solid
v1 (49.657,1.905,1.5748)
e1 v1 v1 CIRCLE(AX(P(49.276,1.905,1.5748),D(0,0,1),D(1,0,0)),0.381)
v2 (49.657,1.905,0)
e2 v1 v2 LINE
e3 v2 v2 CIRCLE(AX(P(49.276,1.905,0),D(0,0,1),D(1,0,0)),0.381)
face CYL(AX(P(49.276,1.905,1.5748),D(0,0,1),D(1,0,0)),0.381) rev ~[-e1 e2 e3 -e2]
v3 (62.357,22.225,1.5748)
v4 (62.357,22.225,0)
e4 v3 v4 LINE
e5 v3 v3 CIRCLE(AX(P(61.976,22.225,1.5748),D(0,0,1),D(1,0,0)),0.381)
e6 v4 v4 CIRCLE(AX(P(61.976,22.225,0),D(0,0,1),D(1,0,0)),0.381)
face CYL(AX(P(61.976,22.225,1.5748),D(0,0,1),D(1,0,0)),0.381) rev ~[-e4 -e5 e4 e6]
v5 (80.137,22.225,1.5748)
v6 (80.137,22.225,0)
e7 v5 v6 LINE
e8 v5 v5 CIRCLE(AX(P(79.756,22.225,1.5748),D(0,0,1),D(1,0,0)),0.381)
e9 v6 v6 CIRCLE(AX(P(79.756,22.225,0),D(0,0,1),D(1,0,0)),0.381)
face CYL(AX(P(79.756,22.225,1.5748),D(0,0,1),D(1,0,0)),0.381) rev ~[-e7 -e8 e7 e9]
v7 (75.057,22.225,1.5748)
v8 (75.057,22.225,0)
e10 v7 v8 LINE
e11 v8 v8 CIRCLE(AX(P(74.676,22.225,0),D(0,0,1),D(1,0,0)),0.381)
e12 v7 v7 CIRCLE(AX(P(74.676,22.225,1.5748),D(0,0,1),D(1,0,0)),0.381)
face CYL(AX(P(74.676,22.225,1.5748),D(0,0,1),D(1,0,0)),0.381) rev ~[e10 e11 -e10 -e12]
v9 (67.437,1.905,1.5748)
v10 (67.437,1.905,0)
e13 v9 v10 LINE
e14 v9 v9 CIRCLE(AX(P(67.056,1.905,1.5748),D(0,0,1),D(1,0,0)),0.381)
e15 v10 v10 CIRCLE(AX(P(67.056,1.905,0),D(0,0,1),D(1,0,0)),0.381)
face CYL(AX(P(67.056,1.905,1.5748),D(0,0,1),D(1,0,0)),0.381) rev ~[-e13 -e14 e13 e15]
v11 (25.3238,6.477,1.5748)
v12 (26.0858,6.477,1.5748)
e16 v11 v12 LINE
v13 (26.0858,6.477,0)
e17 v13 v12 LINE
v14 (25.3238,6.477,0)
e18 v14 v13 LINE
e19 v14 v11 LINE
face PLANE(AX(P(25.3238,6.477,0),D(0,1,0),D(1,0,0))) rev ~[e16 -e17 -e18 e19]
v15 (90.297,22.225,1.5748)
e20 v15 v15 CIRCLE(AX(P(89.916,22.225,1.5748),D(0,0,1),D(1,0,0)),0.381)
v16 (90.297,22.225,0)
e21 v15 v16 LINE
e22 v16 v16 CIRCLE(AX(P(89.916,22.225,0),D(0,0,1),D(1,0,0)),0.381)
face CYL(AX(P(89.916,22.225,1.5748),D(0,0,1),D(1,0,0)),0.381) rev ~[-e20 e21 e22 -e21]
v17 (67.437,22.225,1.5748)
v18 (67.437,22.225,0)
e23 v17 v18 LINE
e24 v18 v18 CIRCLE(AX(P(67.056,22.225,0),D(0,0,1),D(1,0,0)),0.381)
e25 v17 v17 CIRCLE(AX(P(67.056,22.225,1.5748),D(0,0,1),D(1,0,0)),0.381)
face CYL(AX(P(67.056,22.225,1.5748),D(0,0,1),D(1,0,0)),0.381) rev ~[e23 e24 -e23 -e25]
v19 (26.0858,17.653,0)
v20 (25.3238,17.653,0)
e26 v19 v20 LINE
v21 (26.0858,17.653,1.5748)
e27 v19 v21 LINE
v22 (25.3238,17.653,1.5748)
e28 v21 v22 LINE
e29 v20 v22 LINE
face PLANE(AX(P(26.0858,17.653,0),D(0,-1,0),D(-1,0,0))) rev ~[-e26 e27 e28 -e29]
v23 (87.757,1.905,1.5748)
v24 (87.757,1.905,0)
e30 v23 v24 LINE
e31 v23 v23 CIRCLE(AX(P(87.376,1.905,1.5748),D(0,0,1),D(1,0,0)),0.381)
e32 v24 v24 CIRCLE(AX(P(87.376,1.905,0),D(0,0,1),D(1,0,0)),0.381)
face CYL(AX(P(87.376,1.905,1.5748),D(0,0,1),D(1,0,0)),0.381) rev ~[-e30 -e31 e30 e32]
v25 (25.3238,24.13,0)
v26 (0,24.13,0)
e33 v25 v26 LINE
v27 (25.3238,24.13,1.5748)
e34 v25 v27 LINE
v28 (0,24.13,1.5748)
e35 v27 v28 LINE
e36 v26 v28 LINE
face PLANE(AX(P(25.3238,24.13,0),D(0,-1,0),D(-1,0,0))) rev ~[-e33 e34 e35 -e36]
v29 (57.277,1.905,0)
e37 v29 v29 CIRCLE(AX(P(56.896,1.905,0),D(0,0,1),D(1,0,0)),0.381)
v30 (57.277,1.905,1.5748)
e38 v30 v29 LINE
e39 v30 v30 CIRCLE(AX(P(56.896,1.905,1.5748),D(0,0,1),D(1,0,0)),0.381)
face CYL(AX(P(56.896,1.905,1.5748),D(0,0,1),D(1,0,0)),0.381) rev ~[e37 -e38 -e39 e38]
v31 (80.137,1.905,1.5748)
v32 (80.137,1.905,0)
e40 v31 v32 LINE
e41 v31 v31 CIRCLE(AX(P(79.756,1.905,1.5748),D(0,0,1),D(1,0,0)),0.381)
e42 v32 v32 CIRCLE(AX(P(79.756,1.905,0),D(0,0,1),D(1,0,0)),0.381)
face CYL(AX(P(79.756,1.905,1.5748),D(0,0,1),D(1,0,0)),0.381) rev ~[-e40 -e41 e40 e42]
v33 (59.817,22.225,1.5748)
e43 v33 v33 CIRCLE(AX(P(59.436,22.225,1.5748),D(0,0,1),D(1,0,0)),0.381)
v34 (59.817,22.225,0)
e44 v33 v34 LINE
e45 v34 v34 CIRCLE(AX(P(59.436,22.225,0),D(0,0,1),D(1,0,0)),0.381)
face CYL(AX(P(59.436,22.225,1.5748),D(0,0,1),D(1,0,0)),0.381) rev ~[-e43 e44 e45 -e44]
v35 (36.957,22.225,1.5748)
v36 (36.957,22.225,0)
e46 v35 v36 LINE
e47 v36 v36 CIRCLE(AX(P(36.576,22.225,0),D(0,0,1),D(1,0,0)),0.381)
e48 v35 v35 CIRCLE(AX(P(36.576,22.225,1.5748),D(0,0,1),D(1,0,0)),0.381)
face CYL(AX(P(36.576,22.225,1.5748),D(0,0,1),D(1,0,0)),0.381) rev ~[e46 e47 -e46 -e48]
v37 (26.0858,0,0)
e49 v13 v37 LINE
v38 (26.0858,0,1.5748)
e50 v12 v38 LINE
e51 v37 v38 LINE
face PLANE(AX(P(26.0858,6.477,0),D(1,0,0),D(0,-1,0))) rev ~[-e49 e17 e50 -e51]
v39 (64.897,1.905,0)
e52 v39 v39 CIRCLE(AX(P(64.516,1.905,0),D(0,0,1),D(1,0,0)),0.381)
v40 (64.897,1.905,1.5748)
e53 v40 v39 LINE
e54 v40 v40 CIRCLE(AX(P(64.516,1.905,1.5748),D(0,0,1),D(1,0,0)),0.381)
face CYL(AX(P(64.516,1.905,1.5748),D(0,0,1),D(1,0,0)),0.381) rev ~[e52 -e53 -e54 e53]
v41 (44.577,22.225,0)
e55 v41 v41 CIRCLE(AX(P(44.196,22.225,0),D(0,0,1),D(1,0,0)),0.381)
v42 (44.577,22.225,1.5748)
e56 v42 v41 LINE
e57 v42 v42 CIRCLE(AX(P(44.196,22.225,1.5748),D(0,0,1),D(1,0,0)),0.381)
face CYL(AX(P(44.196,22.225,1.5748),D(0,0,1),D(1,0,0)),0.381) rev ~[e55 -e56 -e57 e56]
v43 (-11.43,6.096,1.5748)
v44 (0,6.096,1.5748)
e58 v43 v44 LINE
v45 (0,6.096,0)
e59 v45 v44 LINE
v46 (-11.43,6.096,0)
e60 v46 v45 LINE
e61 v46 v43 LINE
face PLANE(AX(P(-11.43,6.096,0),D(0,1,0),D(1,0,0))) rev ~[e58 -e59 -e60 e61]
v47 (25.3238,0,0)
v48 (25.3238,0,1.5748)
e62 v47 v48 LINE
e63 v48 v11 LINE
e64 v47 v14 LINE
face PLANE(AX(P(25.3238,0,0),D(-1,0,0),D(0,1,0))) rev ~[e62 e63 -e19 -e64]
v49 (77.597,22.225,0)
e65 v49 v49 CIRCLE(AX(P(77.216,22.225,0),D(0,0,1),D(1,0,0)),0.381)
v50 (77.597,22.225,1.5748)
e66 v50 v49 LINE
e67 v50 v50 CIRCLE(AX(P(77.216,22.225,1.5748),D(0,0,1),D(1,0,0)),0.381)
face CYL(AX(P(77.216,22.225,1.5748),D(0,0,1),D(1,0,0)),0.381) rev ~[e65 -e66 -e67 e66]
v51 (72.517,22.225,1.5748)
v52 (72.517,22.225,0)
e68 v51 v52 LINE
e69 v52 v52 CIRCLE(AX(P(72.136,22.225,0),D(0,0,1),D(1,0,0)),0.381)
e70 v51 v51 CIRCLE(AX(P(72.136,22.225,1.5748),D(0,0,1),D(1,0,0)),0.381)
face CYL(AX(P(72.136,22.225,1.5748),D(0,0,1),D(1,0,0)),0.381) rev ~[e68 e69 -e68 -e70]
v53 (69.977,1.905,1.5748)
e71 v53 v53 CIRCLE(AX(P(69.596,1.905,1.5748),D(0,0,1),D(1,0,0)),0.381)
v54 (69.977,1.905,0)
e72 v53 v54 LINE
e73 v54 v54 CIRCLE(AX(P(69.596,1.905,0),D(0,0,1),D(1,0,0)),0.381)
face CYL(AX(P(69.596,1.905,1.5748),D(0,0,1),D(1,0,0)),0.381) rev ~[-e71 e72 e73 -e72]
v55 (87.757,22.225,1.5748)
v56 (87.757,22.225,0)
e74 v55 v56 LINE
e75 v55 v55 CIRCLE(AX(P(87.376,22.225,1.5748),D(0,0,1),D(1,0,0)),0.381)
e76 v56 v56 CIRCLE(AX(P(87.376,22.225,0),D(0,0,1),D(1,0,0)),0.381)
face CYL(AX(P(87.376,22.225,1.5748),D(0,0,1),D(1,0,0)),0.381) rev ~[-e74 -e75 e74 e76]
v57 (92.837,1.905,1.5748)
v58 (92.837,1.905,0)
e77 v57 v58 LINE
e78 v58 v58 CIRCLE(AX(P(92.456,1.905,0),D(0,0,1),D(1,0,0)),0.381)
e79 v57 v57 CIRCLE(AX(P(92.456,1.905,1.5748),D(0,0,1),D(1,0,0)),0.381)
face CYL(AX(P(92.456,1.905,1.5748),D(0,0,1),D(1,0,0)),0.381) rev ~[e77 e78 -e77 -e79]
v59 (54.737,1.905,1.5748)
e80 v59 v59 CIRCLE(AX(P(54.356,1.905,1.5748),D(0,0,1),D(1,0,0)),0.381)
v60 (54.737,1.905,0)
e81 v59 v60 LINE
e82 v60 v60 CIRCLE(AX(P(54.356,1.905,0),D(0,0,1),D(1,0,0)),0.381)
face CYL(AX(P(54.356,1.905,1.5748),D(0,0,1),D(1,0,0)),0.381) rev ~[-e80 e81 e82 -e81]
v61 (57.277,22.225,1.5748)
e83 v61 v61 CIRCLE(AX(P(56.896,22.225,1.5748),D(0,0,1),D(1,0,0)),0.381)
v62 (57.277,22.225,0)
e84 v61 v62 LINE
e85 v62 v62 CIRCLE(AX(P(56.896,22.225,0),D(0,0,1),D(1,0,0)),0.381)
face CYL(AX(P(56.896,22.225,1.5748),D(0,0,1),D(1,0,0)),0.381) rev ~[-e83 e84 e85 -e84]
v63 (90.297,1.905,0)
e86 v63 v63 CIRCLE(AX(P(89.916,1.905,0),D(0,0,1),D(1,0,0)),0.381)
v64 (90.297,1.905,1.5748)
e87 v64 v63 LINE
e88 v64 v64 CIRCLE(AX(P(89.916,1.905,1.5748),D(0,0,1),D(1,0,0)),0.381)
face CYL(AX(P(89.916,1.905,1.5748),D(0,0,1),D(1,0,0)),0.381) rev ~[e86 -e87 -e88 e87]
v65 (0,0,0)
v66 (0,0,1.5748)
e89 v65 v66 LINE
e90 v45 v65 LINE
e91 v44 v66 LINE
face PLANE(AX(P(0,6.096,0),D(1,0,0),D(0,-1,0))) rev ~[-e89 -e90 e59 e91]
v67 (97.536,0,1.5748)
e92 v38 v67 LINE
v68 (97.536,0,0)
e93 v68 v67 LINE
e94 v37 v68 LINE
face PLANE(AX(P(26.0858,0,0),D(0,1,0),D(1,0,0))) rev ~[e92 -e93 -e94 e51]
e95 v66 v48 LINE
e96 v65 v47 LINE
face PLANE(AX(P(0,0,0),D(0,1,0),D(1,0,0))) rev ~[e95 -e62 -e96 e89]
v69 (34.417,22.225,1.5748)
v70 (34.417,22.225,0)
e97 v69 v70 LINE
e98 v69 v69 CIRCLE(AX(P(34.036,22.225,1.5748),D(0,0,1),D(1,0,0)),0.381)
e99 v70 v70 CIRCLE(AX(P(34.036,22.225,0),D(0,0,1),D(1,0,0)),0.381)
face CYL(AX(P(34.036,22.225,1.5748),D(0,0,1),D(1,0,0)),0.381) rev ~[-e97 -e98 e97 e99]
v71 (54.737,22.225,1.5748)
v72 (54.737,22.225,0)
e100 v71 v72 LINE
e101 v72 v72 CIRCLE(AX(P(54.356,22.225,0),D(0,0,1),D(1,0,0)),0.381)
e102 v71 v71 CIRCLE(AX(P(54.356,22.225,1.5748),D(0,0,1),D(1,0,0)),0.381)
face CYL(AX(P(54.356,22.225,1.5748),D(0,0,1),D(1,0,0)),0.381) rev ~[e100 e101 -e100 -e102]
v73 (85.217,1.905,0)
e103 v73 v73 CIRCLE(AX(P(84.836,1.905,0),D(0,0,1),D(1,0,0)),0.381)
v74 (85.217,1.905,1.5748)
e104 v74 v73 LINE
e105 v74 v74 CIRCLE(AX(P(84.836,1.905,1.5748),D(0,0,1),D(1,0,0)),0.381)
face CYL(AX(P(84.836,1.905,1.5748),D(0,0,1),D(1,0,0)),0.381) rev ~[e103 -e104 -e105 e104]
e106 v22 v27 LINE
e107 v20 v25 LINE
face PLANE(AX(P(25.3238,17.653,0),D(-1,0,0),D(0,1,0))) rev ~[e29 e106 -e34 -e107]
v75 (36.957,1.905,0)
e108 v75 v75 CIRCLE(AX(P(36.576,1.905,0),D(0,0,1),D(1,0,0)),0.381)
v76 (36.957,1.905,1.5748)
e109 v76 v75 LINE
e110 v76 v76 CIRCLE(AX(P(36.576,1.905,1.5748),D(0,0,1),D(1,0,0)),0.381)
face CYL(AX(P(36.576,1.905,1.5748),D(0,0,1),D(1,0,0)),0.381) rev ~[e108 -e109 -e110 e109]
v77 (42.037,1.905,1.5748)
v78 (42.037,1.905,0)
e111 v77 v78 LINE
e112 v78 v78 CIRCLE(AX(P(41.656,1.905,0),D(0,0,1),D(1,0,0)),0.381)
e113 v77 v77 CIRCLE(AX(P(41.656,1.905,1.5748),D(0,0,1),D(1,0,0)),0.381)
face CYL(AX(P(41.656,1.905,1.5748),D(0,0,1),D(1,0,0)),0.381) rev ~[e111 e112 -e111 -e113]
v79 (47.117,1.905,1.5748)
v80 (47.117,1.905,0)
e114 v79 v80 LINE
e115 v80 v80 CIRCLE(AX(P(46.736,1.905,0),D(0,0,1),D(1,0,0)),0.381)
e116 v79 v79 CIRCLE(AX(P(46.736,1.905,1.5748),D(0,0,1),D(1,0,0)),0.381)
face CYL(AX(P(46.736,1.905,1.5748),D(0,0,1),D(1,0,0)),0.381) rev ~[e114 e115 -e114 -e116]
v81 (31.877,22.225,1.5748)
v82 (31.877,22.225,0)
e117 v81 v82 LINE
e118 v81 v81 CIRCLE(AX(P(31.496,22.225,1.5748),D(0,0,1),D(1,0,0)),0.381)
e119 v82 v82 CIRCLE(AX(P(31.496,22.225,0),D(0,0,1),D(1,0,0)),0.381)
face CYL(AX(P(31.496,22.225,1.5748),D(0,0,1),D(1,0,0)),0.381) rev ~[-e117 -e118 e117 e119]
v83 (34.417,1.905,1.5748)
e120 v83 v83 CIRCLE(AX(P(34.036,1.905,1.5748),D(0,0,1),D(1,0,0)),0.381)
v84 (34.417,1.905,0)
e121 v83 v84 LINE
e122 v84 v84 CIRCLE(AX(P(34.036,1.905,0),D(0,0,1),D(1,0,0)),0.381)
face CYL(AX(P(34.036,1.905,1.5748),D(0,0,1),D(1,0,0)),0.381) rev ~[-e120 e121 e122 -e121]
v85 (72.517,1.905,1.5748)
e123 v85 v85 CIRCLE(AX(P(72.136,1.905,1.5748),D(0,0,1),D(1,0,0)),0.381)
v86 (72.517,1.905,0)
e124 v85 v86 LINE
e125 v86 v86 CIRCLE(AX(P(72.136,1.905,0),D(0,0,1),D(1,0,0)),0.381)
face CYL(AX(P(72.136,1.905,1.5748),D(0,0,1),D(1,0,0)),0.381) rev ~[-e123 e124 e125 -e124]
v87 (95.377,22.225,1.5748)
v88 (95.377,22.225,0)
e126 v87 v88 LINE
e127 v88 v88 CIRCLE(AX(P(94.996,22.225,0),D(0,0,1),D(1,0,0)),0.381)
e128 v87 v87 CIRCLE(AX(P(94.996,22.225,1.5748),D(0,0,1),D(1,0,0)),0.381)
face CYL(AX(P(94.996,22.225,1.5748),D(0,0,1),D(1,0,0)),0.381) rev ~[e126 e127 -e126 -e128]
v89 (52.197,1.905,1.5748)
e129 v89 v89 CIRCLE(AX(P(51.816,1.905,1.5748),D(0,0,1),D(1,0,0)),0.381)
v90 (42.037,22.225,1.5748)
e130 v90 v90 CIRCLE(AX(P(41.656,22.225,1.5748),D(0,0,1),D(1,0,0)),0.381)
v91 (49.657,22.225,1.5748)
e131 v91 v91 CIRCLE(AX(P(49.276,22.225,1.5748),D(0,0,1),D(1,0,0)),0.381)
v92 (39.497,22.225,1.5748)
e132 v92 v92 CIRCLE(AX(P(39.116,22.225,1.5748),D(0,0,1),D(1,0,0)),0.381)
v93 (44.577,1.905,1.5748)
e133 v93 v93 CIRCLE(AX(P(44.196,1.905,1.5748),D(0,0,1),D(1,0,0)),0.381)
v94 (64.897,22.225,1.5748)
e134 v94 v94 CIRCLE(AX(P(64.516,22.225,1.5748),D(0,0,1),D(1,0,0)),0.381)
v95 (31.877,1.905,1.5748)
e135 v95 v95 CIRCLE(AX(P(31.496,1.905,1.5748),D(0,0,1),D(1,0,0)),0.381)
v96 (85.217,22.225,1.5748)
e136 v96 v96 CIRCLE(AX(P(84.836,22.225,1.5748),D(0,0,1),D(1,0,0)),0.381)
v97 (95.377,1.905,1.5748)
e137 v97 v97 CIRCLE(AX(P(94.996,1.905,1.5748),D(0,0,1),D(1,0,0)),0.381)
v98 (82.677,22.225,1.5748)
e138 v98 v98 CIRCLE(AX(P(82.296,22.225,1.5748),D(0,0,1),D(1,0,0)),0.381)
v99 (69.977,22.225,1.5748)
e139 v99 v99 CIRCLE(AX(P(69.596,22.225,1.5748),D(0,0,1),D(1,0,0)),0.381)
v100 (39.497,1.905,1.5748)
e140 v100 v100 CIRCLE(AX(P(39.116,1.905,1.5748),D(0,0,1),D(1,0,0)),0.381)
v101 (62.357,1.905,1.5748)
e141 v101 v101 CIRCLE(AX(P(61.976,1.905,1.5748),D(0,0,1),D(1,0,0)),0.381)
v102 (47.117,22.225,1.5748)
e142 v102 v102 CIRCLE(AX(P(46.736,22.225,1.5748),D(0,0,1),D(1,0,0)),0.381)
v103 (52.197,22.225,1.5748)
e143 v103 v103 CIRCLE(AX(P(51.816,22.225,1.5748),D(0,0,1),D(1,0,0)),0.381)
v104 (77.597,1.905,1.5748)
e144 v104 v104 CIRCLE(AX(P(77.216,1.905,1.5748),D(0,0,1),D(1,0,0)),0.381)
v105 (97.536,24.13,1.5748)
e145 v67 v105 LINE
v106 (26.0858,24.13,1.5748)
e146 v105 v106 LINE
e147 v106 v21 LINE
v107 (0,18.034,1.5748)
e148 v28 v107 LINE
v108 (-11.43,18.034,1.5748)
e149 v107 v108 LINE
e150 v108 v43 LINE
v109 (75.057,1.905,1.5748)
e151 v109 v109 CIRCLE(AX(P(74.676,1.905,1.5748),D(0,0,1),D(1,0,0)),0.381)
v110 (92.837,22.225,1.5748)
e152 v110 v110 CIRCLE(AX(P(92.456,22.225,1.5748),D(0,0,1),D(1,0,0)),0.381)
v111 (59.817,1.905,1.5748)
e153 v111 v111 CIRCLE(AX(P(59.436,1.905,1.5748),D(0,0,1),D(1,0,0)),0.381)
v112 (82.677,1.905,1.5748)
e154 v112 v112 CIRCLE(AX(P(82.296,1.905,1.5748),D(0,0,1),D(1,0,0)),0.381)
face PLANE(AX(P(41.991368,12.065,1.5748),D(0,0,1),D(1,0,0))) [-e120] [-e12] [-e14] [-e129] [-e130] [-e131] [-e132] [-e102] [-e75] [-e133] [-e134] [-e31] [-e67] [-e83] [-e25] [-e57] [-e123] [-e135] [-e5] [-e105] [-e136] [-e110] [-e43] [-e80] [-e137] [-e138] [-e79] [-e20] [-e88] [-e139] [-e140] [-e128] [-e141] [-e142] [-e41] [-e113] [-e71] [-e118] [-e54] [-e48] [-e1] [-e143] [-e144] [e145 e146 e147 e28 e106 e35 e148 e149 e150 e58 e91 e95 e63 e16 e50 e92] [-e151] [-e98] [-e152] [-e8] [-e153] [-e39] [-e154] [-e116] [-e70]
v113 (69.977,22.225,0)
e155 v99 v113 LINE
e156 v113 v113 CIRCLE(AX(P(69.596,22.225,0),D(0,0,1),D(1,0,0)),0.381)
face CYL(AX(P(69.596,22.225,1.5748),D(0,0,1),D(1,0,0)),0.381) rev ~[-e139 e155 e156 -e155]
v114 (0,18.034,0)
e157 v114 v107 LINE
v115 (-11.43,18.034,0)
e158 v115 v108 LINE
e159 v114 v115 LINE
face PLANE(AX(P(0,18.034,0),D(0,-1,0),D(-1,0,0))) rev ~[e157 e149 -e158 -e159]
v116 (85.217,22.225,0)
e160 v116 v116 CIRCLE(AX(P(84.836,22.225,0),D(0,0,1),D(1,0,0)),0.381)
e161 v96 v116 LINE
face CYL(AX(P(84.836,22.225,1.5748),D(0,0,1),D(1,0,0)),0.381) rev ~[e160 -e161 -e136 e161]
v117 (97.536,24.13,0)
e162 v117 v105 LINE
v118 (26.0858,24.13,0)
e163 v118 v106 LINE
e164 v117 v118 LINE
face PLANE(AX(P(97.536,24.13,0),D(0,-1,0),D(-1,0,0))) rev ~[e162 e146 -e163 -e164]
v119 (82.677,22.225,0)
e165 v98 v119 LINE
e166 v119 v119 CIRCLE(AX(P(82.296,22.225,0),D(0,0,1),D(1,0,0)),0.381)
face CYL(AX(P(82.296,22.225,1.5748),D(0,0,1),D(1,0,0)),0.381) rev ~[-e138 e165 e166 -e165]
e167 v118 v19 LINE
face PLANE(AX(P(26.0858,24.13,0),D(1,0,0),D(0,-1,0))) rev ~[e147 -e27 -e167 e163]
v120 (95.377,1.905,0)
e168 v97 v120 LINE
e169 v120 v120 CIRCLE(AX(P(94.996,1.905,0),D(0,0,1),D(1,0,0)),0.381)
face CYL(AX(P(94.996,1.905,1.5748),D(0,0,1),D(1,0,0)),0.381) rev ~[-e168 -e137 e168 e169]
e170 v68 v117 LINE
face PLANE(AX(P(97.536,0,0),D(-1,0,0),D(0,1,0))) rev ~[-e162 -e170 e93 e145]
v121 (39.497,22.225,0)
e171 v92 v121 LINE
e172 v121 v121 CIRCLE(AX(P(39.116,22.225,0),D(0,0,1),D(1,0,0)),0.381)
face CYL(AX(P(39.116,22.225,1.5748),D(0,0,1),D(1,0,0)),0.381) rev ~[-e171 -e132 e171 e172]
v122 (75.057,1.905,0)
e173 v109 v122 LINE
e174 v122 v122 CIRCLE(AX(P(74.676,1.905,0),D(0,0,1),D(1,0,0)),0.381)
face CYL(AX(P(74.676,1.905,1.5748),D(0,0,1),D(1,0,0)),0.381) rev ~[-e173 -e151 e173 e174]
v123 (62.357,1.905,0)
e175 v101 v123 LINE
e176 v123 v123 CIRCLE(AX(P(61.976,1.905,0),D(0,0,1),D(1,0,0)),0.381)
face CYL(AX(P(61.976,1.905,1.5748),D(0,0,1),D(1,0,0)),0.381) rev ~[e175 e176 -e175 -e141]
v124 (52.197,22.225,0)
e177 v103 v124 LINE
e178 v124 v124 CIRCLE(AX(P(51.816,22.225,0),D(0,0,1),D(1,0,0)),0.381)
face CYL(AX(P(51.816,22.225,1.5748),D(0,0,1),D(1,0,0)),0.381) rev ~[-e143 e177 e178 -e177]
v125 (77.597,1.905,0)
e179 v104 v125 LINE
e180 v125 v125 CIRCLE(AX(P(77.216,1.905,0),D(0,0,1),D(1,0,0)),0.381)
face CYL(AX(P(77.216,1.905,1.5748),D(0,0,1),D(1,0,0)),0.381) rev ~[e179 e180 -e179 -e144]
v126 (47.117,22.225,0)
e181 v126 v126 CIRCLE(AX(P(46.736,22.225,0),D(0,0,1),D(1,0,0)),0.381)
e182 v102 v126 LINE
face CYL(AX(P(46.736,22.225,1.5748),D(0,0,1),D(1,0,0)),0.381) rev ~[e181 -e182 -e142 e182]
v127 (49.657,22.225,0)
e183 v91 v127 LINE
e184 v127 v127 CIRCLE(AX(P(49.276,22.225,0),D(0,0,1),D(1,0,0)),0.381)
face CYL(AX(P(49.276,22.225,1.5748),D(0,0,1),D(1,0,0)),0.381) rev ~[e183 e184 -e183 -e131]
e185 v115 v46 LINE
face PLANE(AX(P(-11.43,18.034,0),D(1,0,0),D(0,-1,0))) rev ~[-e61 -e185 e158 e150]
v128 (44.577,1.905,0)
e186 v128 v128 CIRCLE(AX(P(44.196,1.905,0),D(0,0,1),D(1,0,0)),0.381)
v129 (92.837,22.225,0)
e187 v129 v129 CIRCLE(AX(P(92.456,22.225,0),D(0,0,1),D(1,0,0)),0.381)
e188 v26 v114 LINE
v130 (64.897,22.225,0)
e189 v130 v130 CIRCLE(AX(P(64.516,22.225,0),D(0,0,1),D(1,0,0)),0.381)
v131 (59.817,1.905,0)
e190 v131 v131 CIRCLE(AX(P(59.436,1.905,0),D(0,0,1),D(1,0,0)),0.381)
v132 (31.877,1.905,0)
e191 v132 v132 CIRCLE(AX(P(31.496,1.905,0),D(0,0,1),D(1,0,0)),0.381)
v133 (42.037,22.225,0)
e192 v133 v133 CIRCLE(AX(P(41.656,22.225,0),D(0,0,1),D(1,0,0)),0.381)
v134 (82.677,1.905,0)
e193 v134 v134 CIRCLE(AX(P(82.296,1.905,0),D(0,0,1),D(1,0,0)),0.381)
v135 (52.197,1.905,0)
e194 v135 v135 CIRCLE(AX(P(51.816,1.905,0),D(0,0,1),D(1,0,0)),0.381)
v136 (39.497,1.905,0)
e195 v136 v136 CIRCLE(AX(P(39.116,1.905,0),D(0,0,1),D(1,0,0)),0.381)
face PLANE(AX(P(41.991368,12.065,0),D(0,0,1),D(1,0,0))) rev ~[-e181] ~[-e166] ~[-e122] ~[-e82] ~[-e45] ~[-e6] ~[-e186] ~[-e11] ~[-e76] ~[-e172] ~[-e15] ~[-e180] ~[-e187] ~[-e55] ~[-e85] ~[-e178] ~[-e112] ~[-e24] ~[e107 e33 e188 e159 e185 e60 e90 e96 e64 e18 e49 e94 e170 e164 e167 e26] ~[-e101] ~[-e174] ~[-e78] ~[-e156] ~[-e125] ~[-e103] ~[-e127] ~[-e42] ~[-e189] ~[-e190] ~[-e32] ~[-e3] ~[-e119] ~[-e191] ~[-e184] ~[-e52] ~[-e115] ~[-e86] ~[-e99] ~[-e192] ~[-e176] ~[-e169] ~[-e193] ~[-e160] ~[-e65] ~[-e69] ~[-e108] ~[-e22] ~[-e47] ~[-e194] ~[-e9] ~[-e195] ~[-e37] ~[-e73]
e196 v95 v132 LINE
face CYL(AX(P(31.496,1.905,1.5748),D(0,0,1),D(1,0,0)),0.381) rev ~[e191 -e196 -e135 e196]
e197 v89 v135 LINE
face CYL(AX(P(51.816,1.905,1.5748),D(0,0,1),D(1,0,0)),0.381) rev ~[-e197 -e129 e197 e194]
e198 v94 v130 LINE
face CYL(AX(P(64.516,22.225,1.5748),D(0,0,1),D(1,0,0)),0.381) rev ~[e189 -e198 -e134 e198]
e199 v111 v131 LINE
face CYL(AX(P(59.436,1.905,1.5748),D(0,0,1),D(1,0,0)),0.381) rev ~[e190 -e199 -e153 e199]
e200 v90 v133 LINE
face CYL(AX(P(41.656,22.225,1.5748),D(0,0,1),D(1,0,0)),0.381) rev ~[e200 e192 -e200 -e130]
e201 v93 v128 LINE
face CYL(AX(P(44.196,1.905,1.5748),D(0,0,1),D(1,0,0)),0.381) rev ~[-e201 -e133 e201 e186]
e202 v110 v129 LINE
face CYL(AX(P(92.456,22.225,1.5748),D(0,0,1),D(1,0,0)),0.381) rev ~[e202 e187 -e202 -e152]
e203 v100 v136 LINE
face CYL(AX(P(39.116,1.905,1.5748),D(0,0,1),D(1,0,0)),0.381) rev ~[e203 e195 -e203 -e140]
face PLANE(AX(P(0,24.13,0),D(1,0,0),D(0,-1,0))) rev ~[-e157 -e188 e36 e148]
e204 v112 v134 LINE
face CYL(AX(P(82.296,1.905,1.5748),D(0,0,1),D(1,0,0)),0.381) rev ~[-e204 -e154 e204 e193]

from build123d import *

# Parameters (mm, degrees)
F1_DEPTH = 1.5748
F2_R     = 0.381
F3_DEPTH = 1.5758


with BuildPart() as f1:
    # F0 (on Top) → F1 (new body)
    with BuildSketch(Plane.XY):
        Polygon((0, 6.096), (0, 0), (25.3238, 0), (25.3238, 6.477), (26.0858, 6.477), (26.0858, 0), (97.536, 0), (97.536, 24.13), (26.0858, 24.13), (26.0858, 17.653), (25.3238, 17.653), (25.3238, 24.13), (0, 24.13), (0, 18.034), (-11.43, 18.034), (-11.43, 6.096), align=None)
    extrude(amount=F1_DEPTH)

    # F2 (on face) → F3 (cut, through all)
    with BuildSketch(Plane.XY.offset(1.5748)):
        with Locations((31.496, 1.905)):
            Circle(F2_R)
        with Locations((31.496, 22.225)):
            Circle(F2_R)
        with Locations((34.036, 1.905)):
            Circle(F2_R)
        with Locations((34.036, 22.225)):
            Circle(F2_R)
        with Locations((36.576, 1.905)):
            Circle(F2_R)
        with Locations((36.576, 22.225)):
            Circle(F2_R)
        with Locations((39.116, 1.905)):
            Circle(F2_R)
        with Locations((39.116, 22.225)):
            Circle(F2_R)
        with Locations((41.656, 1.905)):
            Circle(F2_R)
        with Locations((41.656, 22.225)):
            Circle(F2_R)
        with Locations((44.196, 1.905)):
            Circle(F2_R)
        with Locations((44.196, 22.225)):
            Circle(F2_R)
        with Locations((46.736, 1.905)):
            Circle(F2_R)
        with Locations((46.736, 22.225)):
            Circle(F2_R)
        with Locations((49.276, 1.905)):
            Circle(F2_R)
        with Locations((49.276, 22.225)):
            Circle(F2_R)
        with Locations((51.816, 1.905)):
            Circle(F2_R)
        with Locations((51.816, 22.225)):
            Circle(F2_R)
        with Locations((54.356, 1.905)):
            Circle(F2_R)
        with Locations((54.356, 22.225)):
            Circle(F2_R)
        with Locations((56.896, 1.905)):
            Circle(F2_R)
        with Locations((56.896, 22.225)):
            Circle(F2_R)
        with Locations((59.436, 1.905)):
            Circle(F2_R)
        with Locations((59.436, 22.225)):
            Circle(F2_R)
        with Locations((61.976, 1.905)):
            Circle(F2_R)
        with Locations((61.976, 22.225)):
            Circle(F2_R)
        with Locations((64.516, 1.905)):
            Circle(F2_R)
        with Locations((64.516, 22.225)):
            Circle(F2_R)
        with Locations((67.056, 1.905)):
            Circle(F2_R)
        with Locations((67.056, 22.225)):
            Circle(F2_R)
        with Locations((69.596, 1.905)):
            Circle(F2_R)
        with Locations((69.596, 22.225)):
            Circle(F2_R)
        with Locations((72.136, 1.905)):
            Circle(F2_R)
        with Locations((72.136, 22.225)):
            Circle(F2_R)
        with Locations((74.676, 1.905)):
            Circle(F2_R)
        with Locations((74.676, 22.225)):
            Circle(F2_R)
        with Locations((77.216, 1.905)):
            Circle(F2_R)
        with Locations((77.216, 22.225)):
            Circle(F2_R)
        with Locations((79.756, 1.905)):
            Circle(F2_R)
        with Locations((79.756, 22.225)):
            Circle(F2_R)
        with Locations((82.296, 1.905)):
            Circle(F2_R)
        with Locations((82.296, 22.225)):
            Circle(F2_R)
        with Locations((84.836, 1.905)):
            Circle(F2_R)
        with Locations((84.836, 22.225)):
            Circle(F2_R)
        with Locations((87.376, 1.905)):
            Circle(F2_R)
        with Locations((87.376, 22.225)):
            Circle(F2_R)
        with Locations((89.916, 1.905)):
            Circle(F2_R)
        with Locations((89.916, 22.225)):
            Circle(F2_R)
        with Locations((92.456, 1.905)):
            Circle(F2_R)
        with Locations((92.456, 22.225)):
            Circle(F2_R)
        with Locations((94.996, 1.905)):
            Circle(F2_R)
        with Locations((94.996, 22.225)):
            Circle(F2_R)
    extrude(amount=-F3_DEPTH, mode=Mode.SUBTRACT)


solid = f1.part
